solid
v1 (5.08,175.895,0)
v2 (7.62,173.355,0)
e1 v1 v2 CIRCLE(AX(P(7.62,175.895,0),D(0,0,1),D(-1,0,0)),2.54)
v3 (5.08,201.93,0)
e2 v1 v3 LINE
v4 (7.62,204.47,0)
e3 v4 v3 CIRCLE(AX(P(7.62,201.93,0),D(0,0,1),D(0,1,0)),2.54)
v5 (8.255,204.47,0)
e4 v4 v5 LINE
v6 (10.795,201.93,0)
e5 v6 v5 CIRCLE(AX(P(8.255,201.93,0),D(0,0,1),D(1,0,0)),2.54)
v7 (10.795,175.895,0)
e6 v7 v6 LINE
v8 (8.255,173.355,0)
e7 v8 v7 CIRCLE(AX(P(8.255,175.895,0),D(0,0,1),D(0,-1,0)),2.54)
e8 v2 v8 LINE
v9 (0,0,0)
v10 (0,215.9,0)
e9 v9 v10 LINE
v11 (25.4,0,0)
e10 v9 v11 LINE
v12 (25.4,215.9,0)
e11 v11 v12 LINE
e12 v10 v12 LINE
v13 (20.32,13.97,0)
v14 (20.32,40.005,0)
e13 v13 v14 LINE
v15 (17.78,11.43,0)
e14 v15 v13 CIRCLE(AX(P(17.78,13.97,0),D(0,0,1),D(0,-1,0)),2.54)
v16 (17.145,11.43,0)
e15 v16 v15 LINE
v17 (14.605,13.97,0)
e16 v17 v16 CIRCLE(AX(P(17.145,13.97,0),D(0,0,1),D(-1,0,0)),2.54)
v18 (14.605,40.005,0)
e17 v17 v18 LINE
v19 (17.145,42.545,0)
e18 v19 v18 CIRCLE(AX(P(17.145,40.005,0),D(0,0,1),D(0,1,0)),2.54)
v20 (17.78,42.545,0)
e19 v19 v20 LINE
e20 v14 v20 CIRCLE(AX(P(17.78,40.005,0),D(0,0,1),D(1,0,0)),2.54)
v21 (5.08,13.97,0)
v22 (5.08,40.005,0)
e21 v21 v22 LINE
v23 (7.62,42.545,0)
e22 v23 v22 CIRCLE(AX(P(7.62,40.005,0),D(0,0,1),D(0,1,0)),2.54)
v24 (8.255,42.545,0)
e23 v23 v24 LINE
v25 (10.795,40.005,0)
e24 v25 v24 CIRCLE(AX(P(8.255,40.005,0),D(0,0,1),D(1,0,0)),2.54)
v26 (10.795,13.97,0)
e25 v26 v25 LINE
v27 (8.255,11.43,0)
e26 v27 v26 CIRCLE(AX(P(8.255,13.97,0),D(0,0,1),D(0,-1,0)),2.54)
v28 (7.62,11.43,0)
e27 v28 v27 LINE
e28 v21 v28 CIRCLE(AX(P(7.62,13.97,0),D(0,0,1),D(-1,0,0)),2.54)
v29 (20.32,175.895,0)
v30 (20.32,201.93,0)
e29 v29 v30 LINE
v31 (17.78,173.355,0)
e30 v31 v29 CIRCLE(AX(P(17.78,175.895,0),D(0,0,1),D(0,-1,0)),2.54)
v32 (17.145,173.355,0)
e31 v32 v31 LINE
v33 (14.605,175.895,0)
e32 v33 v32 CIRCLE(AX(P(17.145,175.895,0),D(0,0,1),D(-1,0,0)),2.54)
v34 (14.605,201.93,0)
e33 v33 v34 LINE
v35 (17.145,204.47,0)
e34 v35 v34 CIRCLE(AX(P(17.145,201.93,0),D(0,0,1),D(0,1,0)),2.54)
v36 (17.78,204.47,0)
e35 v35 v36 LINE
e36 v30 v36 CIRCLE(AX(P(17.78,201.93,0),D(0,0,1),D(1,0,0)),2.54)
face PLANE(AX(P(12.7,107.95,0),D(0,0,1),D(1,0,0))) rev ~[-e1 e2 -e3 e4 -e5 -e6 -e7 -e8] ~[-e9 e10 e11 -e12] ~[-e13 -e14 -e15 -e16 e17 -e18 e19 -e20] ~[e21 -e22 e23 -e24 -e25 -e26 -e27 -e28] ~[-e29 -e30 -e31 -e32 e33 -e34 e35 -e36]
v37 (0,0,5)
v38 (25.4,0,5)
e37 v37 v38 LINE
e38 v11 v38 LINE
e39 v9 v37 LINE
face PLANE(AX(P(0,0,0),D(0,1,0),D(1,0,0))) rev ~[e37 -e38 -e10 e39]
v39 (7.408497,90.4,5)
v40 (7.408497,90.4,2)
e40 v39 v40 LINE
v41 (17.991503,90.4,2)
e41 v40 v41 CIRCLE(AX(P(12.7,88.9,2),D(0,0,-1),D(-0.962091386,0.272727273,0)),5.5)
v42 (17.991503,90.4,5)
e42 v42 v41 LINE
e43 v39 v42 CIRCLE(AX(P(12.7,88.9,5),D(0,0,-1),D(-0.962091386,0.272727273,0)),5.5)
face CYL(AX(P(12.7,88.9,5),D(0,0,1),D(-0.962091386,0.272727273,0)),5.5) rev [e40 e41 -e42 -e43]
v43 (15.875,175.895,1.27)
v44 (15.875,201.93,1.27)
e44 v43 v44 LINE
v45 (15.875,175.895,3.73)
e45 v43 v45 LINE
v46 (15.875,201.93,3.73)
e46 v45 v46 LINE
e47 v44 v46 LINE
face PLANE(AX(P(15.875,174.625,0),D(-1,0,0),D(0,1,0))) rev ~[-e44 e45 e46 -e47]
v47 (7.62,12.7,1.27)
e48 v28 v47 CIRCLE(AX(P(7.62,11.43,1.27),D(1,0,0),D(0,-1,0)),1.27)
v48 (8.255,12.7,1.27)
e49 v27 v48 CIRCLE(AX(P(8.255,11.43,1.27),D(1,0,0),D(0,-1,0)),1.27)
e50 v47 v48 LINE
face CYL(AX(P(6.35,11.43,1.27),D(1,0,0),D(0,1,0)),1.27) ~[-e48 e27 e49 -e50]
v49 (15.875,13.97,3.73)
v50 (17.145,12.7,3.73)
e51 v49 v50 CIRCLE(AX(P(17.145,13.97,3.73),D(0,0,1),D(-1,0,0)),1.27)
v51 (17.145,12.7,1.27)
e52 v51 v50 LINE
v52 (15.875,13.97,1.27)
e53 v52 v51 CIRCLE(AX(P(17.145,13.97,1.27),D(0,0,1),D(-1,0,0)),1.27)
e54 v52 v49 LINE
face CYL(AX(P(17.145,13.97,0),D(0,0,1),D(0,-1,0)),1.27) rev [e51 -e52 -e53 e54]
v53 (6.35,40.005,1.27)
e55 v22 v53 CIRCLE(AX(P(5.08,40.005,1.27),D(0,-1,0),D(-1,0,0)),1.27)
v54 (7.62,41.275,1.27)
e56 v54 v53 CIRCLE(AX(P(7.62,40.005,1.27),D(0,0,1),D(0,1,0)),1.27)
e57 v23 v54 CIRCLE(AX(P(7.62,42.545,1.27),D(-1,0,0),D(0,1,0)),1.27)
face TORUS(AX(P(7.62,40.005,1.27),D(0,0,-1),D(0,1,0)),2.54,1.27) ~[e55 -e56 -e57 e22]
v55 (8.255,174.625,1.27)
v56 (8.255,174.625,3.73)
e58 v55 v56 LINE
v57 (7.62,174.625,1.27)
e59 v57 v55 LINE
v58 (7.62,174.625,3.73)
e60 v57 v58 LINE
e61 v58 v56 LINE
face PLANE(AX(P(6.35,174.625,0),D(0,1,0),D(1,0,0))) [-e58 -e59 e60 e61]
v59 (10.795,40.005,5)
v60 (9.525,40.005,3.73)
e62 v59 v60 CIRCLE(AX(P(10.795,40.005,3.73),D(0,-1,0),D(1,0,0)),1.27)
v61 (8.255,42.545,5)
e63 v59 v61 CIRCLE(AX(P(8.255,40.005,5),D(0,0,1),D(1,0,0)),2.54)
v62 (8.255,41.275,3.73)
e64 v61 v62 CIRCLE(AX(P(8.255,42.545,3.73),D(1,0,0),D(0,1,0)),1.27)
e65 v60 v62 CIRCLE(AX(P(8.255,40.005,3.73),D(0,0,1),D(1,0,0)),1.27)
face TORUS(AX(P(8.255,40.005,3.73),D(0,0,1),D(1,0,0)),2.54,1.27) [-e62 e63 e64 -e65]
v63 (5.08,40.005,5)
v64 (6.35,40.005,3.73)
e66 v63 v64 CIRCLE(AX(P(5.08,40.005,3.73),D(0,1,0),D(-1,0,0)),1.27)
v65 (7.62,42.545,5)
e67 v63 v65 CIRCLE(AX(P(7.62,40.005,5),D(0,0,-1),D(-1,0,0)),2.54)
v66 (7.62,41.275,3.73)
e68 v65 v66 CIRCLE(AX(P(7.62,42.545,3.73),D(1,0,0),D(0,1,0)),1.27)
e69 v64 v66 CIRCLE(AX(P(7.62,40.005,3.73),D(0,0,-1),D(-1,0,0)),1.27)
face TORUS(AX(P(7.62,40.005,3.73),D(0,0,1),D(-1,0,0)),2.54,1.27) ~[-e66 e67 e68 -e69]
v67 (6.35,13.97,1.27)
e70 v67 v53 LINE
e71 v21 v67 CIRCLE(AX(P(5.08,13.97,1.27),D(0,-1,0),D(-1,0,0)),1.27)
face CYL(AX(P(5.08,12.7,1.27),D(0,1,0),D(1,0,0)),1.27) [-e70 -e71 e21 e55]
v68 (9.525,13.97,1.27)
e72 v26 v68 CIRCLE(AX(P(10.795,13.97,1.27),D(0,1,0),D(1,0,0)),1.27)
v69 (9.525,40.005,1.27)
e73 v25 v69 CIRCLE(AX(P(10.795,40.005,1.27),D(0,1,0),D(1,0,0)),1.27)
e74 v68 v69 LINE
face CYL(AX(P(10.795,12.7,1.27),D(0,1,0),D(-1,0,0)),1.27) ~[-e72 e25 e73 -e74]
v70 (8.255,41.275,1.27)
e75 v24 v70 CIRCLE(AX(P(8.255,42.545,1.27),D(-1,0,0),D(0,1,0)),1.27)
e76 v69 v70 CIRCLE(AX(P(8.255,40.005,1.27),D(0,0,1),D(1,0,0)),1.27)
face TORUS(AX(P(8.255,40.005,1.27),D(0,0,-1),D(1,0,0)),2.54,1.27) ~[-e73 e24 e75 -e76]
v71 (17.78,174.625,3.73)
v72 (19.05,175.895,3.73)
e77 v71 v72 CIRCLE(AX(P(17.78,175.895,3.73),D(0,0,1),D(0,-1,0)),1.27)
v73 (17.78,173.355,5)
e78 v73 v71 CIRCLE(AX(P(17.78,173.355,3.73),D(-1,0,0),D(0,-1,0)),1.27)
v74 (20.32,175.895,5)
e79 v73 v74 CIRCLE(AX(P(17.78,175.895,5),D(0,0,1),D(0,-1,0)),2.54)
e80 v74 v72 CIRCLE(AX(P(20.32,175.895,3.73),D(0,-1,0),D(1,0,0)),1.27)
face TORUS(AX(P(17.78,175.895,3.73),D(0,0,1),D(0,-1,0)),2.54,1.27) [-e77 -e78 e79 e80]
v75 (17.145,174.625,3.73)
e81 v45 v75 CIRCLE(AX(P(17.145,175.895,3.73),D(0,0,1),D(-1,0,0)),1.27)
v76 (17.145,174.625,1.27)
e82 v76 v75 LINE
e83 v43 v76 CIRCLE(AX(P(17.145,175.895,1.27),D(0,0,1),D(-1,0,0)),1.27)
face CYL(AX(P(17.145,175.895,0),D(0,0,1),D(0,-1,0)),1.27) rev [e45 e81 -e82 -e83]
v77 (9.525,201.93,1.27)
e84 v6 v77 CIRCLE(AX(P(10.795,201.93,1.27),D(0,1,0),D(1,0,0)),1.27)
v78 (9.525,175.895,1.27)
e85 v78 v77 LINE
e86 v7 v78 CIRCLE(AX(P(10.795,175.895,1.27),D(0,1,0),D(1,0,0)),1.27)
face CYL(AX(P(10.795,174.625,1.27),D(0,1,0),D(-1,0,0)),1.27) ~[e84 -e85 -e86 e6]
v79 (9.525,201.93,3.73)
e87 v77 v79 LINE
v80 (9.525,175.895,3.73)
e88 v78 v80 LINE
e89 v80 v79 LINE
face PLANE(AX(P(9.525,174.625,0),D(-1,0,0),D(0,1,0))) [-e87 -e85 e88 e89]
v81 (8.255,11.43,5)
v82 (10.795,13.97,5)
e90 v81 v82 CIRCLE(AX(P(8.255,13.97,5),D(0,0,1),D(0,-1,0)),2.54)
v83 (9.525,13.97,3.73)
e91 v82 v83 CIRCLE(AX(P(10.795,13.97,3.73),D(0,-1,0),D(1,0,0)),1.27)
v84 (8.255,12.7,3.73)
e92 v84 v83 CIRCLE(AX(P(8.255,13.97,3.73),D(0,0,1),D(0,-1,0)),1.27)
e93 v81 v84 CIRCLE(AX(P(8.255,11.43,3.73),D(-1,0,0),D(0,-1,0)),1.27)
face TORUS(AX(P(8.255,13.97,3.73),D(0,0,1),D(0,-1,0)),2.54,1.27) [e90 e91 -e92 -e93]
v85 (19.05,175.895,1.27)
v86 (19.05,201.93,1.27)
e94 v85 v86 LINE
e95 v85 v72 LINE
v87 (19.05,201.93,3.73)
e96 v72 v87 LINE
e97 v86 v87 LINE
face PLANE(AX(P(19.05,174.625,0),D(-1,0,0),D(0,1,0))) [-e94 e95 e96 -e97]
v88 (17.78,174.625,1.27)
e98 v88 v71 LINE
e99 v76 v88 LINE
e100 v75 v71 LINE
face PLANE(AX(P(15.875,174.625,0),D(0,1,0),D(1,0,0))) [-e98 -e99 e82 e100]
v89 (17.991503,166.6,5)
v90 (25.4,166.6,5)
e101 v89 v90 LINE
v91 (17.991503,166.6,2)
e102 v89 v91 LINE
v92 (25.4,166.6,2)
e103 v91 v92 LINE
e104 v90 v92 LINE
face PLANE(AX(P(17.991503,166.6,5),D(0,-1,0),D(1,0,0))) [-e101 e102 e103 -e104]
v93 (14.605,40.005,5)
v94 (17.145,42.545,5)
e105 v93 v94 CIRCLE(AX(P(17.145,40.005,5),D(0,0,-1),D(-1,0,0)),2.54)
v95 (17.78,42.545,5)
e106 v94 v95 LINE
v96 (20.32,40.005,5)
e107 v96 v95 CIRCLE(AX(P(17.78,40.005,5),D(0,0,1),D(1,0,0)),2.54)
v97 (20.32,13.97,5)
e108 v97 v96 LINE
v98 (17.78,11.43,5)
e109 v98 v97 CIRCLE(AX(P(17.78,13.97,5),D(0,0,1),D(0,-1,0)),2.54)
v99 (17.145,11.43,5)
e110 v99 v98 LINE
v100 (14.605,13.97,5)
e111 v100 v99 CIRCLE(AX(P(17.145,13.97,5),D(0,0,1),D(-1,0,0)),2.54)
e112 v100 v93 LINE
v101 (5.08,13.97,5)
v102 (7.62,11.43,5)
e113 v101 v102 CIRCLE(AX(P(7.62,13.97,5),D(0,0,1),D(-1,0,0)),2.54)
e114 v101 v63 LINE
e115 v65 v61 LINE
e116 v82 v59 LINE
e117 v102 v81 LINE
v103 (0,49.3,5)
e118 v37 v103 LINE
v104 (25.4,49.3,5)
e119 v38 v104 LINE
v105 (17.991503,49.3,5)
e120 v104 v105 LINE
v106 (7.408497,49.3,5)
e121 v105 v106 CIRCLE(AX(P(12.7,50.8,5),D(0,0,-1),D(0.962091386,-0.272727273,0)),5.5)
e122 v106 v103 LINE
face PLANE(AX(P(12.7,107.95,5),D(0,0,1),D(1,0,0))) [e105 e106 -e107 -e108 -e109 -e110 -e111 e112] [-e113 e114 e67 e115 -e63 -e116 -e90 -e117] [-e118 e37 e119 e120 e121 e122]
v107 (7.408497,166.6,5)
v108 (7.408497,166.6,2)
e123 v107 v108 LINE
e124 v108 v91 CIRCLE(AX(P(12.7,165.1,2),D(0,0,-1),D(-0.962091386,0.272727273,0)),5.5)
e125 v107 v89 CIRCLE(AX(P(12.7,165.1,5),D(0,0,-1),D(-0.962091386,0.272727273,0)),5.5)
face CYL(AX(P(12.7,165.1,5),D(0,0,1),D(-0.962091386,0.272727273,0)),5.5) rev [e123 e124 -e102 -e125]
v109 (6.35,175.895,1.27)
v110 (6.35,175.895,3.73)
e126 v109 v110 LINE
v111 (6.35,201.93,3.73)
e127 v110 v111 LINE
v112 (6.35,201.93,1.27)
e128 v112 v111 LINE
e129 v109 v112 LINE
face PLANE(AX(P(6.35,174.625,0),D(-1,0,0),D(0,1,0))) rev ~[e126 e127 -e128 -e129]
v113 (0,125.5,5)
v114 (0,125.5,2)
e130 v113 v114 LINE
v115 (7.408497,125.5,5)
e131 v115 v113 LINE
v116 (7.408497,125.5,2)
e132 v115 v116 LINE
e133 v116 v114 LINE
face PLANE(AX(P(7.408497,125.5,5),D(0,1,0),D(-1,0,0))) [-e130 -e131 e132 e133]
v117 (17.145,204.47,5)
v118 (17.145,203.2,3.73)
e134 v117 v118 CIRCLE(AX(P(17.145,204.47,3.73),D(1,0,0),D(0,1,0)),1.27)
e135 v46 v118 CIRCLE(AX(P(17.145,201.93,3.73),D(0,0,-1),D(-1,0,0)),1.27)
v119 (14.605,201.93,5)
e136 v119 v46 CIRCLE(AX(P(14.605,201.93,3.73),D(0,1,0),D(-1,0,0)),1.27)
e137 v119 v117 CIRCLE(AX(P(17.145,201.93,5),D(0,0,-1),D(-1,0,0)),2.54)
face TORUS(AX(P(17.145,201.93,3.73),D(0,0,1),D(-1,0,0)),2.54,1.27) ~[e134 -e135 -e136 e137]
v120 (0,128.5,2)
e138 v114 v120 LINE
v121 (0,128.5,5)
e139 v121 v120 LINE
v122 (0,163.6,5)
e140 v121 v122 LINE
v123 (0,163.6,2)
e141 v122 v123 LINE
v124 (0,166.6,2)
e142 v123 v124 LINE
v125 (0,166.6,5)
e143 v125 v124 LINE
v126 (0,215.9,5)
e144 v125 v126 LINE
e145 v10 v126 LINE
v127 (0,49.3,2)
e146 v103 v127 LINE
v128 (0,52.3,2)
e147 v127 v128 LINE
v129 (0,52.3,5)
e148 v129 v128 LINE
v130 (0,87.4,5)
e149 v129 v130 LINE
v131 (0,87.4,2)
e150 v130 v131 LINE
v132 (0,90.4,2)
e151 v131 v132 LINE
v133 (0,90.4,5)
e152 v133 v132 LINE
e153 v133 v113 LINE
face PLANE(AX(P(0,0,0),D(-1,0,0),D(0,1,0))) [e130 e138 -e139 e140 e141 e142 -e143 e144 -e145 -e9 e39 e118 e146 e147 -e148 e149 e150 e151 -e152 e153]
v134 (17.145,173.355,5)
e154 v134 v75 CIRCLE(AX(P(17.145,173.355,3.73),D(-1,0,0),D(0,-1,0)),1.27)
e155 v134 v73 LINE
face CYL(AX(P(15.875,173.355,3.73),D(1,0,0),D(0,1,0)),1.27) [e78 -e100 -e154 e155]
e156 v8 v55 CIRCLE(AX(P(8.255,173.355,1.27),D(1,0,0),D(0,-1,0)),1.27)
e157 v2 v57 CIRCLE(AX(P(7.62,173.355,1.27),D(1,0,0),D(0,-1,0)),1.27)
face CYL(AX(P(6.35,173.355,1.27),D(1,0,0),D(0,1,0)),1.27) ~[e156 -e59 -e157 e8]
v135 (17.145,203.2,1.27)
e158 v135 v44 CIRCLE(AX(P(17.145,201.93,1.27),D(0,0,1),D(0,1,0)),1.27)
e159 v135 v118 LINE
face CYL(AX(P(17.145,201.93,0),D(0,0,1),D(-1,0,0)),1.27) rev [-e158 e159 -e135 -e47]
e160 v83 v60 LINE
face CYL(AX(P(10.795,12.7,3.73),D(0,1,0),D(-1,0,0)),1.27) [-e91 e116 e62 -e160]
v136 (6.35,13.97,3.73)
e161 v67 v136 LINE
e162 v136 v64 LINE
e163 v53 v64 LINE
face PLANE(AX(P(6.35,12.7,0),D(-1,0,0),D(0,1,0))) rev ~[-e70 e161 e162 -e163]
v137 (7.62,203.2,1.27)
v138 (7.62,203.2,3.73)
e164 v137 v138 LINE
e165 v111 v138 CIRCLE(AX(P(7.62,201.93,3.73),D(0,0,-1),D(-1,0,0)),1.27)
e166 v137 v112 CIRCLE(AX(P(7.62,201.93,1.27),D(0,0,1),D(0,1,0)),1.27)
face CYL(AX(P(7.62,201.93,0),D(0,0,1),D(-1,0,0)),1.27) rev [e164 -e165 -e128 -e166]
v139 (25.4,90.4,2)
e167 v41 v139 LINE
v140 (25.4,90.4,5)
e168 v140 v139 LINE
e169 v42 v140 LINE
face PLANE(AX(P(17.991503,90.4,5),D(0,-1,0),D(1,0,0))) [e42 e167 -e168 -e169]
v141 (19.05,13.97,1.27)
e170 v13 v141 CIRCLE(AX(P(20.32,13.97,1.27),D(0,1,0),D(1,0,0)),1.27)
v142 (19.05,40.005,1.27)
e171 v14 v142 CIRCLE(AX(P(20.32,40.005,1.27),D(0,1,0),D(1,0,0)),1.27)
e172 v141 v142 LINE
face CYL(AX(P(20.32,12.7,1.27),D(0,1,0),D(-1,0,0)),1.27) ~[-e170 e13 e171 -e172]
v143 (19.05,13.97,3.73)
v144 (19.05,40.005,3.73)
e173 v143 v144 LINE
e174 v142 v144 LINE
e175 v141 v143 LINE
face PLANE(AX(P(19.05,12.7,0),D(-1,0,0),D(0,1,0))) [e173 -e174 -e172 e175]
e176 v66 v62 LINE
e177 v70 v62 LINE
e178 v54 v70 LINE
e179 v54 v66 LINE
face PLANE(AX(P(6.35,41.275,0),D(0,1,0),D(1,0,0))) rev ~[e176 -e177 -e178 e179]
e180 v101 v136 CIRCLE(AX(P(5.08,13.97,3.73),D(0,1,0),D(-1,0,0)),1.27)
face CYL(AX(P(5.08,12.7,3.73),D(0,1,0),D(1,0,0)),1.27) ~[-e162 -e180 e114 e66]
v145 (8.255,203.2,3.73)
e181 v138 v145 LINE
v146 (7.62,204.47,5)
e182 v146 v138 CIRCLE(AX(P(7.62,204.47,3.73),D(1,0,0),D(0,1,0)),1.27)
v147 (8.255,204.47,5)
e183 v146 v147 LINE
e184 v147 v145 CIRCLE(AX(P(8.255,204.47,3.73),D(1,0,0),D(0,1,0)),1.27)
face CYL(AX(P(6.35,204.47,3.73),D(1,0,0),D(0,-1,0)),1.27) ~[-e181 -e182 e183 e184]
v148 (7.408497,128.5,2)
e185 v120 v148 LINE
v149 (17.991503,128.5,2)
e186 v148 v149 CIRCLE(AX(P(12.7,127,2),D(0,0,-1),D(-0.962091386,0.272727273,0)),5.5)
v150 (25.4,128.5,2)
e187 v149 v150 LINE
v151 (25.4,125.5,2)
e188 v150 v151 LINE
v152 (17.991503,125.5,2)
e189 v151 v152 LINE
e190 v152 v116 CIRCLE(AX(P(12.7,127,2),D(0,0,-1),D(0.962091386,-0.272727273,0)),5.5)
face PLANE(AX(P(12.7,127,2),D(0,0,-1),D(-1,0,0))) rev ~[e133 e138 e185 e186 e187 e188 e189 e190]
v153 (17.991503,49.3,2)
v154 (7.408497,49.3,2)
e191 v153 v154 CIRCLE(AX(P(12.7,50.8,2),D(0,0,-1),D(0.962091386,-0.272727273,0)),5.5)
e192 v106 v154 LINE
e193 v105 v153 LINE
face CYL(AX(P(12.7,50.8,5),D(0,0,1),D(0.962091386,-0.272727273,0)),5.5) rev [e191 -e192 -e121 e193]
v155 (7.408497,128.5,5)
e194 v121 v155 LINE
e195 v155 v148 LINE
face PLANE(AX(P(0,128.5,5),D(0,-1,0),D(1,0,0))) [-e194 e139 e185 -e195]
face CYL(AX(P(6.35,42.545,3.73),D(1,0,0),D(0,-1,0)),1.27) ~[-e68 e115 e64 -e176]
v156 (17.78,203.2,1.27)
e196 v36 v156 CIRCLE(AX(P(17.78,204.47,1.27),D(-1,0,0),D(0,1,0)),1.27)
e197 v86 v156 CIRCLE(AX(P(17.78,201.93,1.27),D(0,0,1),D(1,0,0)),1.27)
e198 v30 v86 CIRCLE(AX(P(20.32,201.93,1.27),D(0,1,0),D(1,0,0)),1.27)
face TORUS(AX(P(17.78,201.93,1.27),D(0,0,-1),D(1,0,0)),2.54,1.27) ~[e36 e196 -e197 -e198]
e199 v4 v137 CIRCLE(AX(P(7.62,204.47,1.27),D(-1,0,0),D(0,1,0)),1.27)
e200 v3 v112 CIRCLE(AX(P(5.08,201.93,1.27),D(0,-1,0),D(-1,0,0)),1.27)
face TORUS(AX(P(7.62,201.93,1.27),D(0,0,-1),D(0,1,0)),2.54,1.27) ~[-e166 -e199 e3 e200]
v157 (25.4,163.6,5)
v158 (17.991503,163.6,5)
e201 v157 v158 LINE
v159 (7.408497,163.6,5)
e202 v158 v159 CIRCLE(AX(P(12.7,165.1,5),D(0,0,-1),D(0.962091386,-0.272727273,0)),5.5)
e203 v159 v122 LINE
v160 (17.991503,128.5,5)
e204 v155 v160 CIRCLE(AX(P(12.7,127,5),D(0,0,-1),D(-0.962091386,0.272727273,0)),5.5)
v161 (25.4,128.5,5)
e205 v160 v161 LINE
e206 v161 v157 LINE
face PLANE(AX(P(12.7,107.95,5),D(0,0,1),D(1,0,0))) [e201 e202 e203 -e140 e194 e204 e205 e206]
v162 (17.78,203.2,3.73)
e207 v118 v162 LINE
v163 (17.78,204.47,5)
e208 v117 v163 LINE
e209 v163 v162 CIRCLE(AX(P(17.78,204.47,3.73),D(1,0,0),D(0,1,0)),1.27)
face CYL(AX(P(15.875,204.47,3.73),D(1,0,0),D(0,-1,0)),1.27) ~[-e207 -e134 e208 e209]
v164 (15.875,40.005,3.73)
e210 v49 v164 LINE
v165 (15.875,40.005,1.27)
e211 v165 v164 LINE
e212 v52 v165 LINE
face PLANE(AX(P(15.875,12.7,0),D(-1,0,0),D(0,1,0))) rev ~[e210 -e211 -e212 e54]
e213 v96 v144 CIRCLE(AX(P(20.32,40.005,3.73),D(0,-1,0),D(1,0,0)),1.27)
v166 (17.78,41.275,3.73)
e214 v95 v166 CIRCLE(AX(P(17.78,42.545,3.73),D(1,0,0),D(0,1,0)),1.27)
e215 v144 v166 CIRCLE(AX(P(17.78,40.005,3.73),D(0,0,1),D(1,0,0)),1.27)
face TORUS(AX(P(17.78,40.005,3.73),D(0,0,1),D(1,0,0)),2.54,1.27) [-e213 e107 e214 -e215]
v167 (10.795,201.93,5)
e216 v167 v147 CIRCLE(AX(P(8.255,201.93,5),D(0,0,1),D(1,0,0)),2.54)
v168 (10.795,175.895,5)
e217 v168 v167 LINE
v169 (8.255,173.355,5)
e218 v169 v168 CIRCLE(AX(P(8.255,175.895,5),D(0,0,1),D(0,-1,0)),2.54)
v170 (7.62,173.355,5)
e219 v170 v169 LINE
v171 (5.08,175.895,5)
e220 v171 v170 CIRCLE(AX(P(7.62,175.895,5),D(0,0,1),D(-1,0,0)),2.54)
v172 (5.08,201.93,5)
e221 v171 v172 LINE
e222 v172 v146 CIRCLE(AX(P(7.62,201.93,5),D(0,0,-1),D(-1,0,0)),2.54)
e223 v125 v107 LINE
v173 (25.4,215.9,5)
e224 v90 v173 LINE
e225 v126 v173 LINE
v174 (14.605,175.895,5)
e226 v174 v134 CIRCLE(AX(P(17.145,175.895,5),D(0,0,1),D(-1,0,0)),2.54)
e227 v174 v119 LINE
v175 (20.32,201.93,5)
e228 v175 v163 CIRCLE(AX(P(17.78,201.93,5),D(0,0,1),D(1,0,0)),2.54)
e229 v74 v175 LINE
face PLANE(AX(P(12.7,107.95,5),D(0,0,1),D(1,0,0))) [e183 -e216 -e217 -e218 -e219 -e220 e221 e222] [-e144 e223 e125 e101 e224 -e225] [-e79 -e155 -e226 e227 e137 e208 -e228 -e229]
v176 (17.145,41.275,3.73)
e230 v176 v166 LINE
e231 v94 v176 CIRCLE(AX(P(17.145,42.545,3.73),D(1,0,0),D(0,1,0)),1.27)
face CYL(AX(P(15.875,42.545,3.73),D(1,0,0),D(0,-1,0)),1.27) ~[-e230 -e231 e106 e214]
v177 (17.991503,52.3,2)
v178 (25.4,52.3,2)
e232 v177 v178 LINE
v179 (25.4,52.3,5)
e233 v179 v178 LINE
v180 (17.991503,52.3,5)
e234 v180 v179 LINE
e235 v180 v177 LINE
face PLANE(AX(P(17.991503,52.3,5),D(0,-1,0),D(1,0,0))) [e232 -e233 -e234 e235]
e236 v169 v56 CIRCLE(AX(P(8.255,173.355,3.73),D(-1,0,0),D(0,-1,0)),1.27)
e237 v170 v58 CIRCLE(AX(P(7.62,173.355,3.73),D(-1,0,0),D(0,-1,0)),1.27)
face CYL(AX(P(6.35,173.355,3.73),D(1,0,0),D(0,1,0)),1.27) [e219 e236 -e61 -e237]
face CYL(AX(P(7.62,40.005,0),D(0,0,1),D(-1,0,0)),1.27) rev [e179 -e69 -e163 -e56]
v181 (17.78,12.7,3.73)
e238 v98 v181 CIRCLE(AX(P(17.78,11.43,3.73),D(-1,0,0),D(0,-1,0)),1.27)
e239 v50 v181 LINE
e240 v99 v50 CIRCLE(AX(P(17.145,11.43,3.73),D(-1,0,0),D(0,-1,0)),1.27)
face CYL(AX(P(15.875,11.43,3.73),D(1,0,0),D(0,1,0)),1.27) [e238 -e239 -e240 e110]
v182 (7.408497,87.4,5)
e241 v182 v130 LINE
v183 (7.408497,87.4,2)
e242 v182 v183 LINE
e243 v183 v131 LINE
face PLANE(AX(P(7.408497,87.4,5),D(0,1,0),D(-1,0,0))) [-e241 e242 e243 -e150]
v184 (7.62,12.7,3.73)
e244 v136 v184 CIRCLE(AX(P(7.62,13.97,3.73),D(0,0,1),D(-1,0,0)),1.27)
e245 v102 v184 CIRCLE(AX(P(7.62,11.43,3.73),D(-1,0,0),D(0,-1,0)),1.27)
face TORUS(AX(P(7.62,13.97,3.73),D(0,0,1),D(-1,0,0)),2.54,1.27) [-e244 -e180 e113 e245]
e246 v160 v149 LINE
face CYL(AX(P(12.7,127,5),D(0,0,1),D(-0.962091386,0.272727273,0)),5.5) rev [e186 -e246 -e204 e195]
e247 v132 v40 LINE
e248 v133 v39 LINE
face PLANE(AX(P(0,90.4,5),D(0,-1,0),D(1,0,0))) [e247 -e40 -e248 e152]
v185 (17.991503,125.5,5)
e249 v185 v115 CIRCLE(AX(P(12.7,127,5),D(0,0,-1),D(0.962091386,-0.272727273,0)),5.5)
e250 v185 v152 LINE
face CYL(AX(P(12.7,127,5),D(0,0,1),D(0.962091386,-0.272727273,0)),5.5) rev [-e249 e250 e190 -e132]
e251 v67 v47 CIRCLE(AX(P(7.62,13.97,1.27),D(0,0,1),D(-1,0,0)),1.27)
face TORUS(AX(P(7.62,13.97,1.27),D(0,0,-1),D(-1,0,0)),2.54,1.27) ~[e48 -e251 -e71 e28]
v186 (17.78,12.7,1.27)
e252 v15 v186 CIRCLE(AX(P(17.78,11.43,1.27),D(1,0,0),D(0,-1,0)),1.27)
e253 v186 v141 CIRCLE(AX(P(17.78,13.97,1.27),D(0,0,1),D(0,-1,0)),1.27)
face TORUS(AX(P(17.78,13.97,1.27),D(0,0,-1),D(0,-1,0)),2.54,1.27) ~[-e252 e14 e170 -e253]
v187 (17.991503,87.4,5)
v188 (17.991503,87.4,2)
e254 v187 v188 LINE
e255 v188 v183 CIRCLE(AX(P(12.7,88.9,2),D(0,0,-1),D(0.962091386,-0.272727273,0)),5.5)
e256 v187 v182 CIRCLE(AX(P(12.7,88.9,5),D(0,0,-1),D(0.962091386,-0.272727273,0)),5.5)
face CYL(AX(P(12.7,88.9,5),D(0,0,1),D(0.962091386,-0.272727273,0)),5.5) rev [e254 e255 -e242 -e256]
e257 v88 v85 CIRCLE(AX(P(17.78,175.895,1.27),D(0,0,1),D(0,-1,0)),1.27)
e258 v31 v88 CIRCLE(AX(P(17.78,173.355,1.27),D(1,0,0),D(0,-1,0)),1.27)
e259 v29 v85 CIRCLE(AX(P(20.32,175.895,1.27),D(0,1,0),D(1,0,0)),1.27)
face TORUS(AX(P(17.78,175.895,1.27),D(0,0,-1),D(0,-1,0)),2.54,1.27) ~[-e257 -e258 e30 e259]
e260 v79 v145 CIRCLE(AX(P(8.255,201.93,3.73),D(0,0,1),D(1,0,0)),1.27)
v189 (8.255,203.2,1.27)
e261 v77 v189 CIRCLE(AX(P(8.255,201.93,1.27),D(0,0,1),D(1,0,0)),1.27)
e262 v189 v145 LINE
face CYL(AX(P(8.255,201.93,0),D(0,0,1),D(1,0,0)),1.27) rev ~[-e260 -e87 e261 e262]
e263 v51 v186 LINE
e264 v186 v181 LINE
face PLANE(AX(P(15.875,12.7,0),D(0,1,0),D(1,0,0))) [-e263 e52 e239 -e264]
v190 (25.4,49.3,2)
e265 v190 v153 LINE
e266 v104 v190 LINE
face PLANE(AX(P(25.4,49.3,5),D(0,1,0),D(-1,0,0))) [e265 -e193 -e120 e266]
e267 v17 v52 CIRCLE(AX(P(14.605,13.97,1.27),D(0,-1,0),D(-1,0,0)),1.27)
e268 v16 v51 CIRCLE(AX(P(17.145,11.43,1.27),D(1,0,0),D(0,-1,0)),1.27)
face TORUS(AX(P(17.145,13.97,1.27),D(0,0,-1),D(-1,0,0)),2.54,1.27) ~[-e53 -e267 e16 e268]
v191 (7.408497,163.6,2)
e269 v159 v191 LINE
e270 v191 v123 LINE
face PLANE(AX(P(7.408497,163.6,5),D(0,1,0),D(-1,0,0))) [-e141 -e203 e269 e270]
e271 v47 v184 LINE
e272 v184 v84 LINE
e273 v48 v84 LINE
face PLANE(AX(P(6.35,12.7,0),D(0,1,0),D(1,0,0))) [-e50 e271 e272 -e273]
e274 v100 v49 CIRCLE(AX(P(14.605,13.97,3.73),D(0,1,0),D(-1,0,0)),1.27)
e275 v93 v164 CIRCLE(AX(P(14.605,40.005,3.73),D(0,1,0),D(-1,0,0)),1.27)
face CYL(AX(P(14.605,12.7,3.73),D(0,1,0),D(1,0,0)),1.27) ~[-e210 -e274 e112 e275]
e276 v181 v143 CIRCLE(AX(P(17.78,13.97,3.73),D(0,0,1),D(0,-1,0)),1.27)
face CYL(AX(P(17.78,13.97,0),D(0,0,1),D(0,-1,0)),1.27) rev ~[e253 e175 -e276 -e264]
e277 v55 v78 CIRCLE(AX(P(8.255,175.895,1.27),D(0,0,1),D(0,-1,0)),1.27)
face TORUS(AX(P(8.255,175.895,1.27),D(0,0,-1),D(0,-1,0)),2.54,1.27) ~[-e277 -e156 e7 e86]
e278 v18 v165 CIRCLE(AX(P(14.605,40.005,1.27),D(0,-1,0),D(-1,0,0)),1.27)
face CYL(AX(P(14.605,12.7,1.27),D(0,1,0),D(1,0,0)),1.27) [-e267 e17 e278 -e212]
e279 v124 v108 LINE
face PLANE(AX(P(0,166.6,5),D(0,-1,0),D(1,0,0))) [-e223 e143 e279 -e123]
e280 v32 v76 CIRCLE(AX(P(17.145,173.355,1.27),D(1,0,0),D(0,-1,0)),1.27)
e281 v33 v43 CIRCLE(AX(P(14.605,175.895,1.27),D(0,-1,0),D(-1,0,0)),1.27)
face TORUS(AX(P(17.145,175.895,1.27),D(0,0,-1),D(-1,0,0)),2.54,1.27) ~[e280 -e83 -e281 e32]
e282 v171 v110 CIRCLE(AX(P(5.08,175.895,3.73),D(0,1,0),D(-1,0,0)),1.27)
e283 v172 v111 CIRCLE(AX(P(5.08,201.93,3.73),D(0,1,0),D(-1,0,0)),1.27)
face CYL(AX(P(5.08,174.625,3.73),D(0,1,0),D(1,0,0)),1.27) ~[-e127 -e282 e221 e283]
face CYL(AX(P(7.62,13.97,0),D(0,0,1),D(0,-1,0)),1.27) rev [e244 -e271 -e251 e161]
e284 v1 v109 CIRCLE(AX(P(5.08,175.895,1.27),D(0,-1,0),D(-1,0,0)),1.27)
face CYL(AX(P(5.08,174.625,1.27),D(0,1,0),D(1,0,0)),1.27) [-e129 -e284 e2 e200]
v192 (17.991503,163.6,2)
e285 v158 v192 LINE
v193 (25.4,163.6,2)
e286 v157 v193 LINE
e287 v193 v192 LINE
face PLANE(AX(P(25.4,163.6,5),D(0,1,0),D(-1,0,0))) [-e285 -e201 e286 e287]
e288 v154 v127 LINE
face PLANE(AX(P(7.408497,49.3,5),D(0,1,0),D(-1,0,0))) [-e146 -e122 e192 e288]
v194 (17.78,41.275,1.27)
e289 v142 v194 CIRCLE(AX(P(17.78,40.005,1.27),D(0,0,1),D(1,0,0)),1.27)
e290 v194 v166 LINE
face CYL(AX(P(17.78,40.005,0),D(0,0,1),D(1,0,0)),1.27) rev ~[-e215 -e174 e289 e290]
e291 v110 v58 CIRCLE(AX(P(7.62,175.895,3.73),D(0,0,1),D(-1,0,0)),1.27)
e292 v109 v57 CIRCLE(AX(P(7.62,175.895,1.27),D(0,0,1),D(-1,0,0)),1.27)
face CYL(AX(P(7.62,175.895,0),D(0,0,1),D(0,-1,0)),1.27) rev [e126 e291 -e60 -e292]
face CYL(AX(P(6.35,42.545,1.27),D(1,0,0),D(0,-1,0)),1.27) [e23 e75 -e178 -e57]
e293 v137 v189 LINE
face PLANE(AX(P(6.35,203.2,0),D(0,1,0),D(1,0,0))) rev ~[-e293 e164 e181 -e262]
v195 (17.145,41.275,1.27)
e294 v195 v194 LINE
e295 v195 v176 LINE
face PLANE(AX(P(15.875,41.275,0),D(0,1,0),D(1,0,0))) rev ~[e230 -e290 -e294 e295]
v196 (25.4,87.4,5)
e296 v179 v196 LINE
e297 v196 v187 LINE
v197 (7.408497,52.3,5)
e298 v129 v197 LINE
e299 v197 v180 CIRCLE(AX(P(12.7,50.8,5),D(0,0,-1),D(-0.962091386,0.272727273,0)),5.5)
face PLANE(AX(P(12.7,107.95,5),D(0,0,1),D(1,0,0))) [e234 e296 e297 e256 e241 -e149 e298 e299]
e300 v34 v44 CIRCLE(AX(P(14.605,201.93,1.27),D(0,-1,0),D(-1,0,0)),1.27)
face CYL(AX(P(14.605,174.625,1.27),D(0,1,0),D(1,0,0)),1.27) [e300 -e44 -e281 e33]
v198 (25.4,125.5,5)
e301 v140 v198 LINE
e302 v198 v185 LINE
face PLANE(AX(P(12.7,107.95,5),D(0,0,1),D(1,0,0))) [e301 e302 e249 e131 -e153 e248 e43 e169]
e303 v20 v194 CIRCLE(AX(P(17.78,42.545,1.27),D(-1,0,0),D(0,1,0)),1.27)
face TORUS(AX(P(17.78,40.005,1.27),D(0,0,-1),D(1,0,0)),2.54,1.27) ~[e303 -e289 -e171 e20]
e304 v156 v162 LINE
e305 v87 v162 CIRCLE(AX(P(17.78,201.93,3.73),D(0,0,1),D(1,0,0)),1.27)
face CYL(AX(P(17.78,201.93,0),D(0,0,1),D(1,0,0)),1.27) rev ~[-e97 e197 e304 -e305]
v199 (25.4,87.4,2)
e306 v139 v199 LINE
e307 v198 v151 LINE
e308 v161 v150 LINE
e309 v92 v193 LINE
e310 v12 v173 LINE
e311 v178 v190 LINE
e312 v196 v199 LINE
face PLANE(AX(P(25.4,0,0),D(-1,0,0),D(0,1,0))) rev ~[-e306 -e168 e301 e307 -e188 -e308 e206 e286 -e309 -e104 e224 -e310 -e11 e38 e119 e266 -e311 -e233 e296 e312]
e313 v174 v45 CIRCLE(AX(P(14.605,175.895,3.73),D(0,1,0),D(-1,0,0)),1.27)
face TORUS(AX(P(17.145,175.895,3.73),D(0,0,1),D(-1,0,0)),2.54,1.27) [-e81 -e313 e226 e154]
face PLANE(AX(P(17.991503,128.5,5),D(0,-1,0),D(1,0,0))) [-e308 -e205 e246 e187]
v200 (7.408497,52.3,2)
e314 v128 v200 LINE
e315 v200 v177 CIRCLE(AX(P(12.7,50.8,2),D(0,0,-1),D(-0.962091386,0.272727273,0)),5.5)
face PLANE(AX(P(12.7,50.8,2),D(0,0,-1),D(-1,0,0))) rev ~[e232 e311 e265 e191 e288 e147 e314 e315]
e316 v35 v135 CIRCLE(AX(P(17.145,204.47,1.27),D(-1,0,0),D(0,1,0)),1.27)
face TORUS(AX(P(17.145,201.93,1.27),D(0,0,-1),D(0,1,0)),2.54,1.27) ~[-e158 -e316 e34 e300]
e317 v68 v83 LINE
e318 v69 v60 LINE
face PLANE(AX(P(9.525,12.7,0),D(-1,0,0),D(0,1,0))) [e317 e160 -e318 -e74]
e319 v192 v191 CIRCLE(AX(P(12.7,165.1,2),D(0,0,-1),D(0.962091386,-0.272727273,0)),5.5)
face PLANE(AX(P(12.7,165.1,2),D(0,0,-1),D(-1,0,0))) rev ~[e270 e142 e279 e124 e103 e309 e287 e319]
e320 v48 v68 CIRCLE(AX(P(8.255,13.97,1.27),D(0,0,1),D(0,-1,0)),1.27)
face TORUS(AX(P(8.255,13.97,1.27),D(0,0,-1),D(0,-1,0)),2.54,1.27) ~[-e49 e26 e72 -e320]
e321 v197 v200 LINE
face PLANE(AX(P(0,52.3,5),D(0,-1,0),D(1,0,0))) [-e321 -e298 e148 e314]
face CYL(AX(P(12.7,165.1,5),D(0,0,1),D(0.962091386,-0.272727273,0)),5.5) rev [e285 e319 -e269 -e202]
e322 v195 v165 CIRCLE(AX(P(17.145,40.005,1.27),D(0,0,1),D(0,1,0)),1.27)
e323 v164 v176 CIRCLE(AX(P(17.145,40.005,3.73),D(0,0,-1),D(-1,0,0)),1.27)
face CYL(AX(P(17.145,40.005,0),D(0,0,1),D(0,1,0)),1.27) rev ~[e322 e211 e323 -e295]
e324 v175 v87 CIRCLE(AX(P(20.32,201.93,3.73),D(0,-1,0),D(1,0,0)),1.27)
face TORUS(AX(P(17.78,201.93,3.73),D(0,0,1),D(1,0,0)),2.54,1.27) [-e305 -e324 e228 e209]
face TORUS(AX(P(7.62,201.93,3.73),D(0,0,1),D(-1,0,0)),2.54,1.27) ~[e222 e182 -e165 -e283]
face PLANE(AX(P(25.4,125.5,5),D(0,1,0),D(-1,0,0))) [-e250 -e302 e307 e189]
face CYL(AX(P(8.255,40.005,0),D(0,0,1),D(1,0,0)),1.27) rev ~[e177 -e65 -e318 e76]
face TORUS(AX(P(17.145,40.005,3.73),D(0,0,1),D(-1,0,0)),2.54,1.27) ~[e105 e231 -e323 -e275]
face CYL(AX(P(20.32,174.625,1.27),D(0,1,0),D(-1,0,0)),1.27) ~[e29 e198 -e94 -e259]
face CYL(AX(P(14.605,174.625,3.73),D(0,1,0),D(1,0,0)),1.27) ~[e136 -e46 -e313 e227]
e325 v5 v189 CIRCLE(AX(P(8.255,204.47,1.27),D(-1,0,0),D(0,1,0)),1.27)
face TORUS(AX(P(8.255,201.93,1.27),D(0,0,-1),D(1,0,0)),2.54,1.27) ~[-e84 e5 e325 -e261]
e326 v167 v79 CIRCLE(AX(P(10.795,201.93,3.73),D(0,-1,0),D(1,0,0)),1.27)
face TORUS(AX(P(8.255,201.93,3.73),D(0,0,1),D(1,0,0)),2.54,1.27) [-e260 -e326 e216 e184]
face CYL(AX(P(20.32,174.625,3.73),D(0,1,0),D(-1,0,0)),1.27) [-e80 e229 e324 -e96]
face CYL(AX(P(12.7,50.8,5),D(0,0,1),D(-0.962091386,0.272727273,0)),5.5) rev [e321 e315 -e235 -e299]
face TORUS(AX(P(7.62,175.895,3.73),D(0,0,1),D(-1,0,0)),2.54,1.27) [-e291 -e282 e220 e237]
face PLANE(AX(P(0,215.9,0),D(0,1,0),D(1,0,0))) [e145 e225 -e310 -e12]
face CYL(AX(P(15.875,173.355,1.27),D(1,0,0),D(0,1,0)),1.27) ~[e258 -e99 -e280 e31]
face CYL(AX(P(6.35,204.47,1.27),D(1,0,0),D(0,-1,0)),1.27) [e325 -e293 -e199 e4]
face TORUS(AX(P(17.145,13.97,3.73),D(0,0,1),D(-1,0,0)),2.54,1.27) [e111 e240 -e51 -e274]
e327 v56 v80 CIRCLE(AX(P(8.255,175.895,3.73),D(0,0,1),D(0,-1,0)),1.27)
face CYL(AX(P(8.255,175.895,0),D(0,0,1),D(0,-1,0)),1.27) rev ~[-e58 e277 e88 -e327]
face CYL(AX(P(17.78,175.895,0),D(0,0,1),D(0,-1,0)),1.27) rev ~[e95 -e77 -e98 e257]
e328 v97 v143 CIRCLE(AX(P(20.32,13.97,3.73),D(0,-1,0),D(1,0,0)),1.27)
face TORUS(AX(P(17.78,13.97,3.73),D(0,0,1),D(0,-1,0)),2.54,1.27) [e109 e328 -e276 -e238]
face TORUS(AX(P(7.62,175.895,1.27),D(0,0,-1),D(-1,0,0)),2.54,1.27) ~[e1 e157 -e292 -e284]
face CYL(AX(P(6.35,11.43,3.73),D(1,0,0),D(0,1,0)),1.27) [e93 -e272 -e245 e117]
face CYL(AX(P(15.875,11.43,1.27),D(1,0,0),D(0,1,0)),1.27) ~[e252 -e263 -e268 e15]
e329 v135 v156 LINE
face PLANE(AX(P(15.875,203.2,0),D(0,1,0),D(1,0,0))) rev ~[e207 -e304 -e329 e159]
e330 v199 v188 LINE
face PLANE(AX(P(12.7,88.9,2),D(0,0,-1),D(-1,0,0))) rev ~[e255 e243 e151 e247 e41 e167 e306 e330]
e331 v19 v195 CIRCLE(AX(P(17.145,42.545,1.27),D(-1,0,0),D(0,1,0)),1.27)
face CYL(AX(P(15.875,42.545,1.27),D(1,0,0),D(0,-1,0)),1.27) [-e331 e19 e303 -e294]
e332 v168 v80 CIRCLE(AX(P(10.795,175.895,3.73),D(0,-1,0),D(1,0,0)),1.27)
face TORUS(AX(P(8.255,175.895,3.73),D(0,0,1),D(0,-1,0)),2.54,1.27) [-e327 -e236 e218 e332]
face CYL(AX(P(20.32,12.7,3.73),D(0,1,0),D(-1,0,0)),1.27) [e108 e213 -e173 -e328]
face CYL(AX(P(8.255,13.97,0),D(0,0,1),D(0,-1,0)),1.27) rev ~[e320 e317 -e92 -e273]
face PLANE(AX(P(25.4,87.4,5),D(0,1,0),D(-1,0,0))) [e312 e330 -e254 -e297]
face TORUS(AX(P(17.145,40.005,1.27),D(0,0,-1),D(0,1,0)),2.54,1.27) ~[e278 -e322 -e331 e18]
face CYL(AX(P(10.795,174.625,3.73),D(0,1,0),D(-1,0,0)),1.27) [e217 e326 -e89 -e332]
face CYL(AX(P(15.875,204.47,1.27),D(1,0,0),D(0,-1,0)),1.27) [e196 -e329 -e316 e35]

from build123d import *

# Parameters (mm, degrees)
SKETCH1_W           = 25.4
SKETCH1_H           = 215.9
SKETCH1_W_2         = 3.175
SKETCH1_H_2         = 28.575
BOSS_EXTRUDE1_DEPTH = 5
FILLET1_R           = 1.27
CUT_EXTRUDE1_DEPTH  = 3.000000096


with BuildPart() as part:
    # Sketch1 → Boss-Extrude1 (new body)
    with BuildSketch(Plane.XY):
        with Locations((12.7, 107.95)):
            Rectangle(SKETCH1_W, SKETCH1_H)
        with Locations((7.9375, 188.9125)):
            Rectangle(SKETCH1_W_2, SKETCH1_H_2, mode=Mode.SUBTRACT)
        with Locations((17.4625, 188.9125)):
            Rectangle(SKETCH1_W_2, SKETCH1_H_2, mode=Mode.SUBTRACT)
        with Locations((7.9375, 26.9875)):
            Rectangle(SKETCH1_W_2, SKETCH1_H_2, mode=Mode.SUBTRACT)
        with Locations((17.4625, 26.9875)):
            Rectangle(SKETCH1_W_2, SKETCH1_H_2, mode=Mode.SUBTRACT)
    extrude(amount=BOSS_EXTRUDE1_DEPTH)

    # Fillet1
    fillet1_edges = [part.edges().sort_by_distance(p)[0] for p in [
        (6.35, 188.9125, 0),
        (6.35, 203.2, 2.5),
        (7.9375, 174.625, 0),
        (6.35, 174.625, 2.5),
        (9.525, 188.9125, 0),
        (9.525, 174.625, 2.5),
        (7.9375, 203.2, 0),
        (9.525, 203.2, 2.5),
        (6.35, 188.9125, 5),
        (7.9375, 174.625, 5),
        (9.525, 188.9125, 5),
        (7.9375, 203.2, 5),
        (15.875, 188.9125, 0),
        (15.875, 203.2, 2.5),
        (17.4625, 174.625, 0),
        (15.875, 174.625, 2.5),
        (19.05, 188.9125, 0),
        (19.05, 174.625, 2.5),
        (17.4625, 203.2, 0),
        (19.05, 203.2, 2.5),
        (15.875, 188.9125, 5),
        (17.4625, 174.625, 5),
        (19.05, 188.9125, 5),
        (17.4625, 203.2, 5),
        (15.875, 26.9875, 0),
        (15.875, 41.275, 2.5),
        (17.4625, 12.7, 0),
        (15.875, 12.7, 2.5),
        (19.05, 26.9875, 0),
        (19.05, 12.7, 2.5),
        (17.4625, 41.275, 0),
        (19.05, 41.275, 2.5),
        (15.875, 26.9875, 5),
        (17.4625, 12.7, 5),
        (19.05, 26.9875, 5),
        (17.4625, 41.275, 5),
        (6.35, 26.9875, 0),
        (6.35, 41.275, 2.5),
        (7.9375, 12.7, 0),
        (6.35, 12.7, 2.5),
        (9.525, 26.9875, 0),
        (9.525, 12.7, 2.5),
        (7.9375, 41.275, 0),
        (9.525, 41.275, 2.5),
        (6.35, 26.9875, 5),
        (7.9375, 12.7, 5),
        (9.525, 26.9875, 5),
        (7.9375, 41.275, 5),
    ]]
    fillet(fillet1_edges, radius=FILLET1_R)

    # Sketch2 → Cut-Extrude1 (cut)
    with BuildSketch(Plane.XY.offset(5)):
        with BuildLine():
            Line((17.991502622, 166.6), (25.4, 166.6))
            Line((25.4, 166.6), (25.4, 163.6))
            Line((25.4, 163.6), (17.991502622, 163.6))
            ThreePointArc((17.991502622, 163.6), (12.7, 159.6), (7.408497378, 163.6))
            Line((7.408497378, 163.6), (0, 163.6))
            Line((0, 163.6), (0, 166.6))
            Line((0, 166.6), (7.408497378, 166.6))
            ThreePointArc((7.408497378, 166.6), (12.7, 170.6), (17.991502622, 166.6))
        make_face()
        with BuildLine():
            Line((17.991502622, 128.5), (25.4, 128.5))
            Line((25.4, 128.5), (25.4, 125.5))
            Line((25.4, 125.5), (17.991502622, 125.5))
            ThreePointArc((17.991502622, 125.5), (12.7, 121.5), (7.408497378, 125.5))
            Line((7.408497378, 125.5), (0, 125.5))
            Line((0, 125.5), (0, 128.5))
            Line((0, 128.5), (7.408497378, 128.5))
            ThreePointArc((7.408497378, 128.5), (12.7, 132.5), (17.991502622, 128.5))
        make_face()
        with BuildLine():
            Line((17.991502622, 90.4), (25.4, 90.4))
            Line((25.4, 90.4), (25.4, 87.4))
            Line((25.4, 87.4), (17.991502622, 87.4))
            ThreePointArc((17.991502622, 87.4), (12.7, 83.4), (7.408497378, 87.4))
            Line((7.408497378, 87.4), (0, 87.4))
            Line((0, 87.4), (0, 90.4))
            Line((0, 90.4), (7.408497378, 90.4))
            ThreePointArc((7.408497378, 90.4), (12.7, 94.4), (17.991502622, 90.4))
        make_face()
        with BuildLine():
            Line((17.991502622, 52.3), (25.4, 52.3))
            Line((25.4, 52.3), (25.4, 49.3))
            Line((25.4, 49.3), (17.991502622, 49.3))
            ThreePointArc((17.991502622, 49.3), (12.7, 45.3), (7.408497378, 49.3))
            Line((7.408497378, 49.3), (0, 49.3))
            Line((0, 49.3), (0, 52.3))
            Line((0, 52.3), (7.408497378, 52.3))
            ThreePointArc((7.408497378, 52.3), (12.7, 56.3), (17.991502622, 52.3))
        make_face()
    extrude(amount=-CUT_EXTRUDE1_DEPTH, mode=Mode.SUBTRACT)


solid = part.part
